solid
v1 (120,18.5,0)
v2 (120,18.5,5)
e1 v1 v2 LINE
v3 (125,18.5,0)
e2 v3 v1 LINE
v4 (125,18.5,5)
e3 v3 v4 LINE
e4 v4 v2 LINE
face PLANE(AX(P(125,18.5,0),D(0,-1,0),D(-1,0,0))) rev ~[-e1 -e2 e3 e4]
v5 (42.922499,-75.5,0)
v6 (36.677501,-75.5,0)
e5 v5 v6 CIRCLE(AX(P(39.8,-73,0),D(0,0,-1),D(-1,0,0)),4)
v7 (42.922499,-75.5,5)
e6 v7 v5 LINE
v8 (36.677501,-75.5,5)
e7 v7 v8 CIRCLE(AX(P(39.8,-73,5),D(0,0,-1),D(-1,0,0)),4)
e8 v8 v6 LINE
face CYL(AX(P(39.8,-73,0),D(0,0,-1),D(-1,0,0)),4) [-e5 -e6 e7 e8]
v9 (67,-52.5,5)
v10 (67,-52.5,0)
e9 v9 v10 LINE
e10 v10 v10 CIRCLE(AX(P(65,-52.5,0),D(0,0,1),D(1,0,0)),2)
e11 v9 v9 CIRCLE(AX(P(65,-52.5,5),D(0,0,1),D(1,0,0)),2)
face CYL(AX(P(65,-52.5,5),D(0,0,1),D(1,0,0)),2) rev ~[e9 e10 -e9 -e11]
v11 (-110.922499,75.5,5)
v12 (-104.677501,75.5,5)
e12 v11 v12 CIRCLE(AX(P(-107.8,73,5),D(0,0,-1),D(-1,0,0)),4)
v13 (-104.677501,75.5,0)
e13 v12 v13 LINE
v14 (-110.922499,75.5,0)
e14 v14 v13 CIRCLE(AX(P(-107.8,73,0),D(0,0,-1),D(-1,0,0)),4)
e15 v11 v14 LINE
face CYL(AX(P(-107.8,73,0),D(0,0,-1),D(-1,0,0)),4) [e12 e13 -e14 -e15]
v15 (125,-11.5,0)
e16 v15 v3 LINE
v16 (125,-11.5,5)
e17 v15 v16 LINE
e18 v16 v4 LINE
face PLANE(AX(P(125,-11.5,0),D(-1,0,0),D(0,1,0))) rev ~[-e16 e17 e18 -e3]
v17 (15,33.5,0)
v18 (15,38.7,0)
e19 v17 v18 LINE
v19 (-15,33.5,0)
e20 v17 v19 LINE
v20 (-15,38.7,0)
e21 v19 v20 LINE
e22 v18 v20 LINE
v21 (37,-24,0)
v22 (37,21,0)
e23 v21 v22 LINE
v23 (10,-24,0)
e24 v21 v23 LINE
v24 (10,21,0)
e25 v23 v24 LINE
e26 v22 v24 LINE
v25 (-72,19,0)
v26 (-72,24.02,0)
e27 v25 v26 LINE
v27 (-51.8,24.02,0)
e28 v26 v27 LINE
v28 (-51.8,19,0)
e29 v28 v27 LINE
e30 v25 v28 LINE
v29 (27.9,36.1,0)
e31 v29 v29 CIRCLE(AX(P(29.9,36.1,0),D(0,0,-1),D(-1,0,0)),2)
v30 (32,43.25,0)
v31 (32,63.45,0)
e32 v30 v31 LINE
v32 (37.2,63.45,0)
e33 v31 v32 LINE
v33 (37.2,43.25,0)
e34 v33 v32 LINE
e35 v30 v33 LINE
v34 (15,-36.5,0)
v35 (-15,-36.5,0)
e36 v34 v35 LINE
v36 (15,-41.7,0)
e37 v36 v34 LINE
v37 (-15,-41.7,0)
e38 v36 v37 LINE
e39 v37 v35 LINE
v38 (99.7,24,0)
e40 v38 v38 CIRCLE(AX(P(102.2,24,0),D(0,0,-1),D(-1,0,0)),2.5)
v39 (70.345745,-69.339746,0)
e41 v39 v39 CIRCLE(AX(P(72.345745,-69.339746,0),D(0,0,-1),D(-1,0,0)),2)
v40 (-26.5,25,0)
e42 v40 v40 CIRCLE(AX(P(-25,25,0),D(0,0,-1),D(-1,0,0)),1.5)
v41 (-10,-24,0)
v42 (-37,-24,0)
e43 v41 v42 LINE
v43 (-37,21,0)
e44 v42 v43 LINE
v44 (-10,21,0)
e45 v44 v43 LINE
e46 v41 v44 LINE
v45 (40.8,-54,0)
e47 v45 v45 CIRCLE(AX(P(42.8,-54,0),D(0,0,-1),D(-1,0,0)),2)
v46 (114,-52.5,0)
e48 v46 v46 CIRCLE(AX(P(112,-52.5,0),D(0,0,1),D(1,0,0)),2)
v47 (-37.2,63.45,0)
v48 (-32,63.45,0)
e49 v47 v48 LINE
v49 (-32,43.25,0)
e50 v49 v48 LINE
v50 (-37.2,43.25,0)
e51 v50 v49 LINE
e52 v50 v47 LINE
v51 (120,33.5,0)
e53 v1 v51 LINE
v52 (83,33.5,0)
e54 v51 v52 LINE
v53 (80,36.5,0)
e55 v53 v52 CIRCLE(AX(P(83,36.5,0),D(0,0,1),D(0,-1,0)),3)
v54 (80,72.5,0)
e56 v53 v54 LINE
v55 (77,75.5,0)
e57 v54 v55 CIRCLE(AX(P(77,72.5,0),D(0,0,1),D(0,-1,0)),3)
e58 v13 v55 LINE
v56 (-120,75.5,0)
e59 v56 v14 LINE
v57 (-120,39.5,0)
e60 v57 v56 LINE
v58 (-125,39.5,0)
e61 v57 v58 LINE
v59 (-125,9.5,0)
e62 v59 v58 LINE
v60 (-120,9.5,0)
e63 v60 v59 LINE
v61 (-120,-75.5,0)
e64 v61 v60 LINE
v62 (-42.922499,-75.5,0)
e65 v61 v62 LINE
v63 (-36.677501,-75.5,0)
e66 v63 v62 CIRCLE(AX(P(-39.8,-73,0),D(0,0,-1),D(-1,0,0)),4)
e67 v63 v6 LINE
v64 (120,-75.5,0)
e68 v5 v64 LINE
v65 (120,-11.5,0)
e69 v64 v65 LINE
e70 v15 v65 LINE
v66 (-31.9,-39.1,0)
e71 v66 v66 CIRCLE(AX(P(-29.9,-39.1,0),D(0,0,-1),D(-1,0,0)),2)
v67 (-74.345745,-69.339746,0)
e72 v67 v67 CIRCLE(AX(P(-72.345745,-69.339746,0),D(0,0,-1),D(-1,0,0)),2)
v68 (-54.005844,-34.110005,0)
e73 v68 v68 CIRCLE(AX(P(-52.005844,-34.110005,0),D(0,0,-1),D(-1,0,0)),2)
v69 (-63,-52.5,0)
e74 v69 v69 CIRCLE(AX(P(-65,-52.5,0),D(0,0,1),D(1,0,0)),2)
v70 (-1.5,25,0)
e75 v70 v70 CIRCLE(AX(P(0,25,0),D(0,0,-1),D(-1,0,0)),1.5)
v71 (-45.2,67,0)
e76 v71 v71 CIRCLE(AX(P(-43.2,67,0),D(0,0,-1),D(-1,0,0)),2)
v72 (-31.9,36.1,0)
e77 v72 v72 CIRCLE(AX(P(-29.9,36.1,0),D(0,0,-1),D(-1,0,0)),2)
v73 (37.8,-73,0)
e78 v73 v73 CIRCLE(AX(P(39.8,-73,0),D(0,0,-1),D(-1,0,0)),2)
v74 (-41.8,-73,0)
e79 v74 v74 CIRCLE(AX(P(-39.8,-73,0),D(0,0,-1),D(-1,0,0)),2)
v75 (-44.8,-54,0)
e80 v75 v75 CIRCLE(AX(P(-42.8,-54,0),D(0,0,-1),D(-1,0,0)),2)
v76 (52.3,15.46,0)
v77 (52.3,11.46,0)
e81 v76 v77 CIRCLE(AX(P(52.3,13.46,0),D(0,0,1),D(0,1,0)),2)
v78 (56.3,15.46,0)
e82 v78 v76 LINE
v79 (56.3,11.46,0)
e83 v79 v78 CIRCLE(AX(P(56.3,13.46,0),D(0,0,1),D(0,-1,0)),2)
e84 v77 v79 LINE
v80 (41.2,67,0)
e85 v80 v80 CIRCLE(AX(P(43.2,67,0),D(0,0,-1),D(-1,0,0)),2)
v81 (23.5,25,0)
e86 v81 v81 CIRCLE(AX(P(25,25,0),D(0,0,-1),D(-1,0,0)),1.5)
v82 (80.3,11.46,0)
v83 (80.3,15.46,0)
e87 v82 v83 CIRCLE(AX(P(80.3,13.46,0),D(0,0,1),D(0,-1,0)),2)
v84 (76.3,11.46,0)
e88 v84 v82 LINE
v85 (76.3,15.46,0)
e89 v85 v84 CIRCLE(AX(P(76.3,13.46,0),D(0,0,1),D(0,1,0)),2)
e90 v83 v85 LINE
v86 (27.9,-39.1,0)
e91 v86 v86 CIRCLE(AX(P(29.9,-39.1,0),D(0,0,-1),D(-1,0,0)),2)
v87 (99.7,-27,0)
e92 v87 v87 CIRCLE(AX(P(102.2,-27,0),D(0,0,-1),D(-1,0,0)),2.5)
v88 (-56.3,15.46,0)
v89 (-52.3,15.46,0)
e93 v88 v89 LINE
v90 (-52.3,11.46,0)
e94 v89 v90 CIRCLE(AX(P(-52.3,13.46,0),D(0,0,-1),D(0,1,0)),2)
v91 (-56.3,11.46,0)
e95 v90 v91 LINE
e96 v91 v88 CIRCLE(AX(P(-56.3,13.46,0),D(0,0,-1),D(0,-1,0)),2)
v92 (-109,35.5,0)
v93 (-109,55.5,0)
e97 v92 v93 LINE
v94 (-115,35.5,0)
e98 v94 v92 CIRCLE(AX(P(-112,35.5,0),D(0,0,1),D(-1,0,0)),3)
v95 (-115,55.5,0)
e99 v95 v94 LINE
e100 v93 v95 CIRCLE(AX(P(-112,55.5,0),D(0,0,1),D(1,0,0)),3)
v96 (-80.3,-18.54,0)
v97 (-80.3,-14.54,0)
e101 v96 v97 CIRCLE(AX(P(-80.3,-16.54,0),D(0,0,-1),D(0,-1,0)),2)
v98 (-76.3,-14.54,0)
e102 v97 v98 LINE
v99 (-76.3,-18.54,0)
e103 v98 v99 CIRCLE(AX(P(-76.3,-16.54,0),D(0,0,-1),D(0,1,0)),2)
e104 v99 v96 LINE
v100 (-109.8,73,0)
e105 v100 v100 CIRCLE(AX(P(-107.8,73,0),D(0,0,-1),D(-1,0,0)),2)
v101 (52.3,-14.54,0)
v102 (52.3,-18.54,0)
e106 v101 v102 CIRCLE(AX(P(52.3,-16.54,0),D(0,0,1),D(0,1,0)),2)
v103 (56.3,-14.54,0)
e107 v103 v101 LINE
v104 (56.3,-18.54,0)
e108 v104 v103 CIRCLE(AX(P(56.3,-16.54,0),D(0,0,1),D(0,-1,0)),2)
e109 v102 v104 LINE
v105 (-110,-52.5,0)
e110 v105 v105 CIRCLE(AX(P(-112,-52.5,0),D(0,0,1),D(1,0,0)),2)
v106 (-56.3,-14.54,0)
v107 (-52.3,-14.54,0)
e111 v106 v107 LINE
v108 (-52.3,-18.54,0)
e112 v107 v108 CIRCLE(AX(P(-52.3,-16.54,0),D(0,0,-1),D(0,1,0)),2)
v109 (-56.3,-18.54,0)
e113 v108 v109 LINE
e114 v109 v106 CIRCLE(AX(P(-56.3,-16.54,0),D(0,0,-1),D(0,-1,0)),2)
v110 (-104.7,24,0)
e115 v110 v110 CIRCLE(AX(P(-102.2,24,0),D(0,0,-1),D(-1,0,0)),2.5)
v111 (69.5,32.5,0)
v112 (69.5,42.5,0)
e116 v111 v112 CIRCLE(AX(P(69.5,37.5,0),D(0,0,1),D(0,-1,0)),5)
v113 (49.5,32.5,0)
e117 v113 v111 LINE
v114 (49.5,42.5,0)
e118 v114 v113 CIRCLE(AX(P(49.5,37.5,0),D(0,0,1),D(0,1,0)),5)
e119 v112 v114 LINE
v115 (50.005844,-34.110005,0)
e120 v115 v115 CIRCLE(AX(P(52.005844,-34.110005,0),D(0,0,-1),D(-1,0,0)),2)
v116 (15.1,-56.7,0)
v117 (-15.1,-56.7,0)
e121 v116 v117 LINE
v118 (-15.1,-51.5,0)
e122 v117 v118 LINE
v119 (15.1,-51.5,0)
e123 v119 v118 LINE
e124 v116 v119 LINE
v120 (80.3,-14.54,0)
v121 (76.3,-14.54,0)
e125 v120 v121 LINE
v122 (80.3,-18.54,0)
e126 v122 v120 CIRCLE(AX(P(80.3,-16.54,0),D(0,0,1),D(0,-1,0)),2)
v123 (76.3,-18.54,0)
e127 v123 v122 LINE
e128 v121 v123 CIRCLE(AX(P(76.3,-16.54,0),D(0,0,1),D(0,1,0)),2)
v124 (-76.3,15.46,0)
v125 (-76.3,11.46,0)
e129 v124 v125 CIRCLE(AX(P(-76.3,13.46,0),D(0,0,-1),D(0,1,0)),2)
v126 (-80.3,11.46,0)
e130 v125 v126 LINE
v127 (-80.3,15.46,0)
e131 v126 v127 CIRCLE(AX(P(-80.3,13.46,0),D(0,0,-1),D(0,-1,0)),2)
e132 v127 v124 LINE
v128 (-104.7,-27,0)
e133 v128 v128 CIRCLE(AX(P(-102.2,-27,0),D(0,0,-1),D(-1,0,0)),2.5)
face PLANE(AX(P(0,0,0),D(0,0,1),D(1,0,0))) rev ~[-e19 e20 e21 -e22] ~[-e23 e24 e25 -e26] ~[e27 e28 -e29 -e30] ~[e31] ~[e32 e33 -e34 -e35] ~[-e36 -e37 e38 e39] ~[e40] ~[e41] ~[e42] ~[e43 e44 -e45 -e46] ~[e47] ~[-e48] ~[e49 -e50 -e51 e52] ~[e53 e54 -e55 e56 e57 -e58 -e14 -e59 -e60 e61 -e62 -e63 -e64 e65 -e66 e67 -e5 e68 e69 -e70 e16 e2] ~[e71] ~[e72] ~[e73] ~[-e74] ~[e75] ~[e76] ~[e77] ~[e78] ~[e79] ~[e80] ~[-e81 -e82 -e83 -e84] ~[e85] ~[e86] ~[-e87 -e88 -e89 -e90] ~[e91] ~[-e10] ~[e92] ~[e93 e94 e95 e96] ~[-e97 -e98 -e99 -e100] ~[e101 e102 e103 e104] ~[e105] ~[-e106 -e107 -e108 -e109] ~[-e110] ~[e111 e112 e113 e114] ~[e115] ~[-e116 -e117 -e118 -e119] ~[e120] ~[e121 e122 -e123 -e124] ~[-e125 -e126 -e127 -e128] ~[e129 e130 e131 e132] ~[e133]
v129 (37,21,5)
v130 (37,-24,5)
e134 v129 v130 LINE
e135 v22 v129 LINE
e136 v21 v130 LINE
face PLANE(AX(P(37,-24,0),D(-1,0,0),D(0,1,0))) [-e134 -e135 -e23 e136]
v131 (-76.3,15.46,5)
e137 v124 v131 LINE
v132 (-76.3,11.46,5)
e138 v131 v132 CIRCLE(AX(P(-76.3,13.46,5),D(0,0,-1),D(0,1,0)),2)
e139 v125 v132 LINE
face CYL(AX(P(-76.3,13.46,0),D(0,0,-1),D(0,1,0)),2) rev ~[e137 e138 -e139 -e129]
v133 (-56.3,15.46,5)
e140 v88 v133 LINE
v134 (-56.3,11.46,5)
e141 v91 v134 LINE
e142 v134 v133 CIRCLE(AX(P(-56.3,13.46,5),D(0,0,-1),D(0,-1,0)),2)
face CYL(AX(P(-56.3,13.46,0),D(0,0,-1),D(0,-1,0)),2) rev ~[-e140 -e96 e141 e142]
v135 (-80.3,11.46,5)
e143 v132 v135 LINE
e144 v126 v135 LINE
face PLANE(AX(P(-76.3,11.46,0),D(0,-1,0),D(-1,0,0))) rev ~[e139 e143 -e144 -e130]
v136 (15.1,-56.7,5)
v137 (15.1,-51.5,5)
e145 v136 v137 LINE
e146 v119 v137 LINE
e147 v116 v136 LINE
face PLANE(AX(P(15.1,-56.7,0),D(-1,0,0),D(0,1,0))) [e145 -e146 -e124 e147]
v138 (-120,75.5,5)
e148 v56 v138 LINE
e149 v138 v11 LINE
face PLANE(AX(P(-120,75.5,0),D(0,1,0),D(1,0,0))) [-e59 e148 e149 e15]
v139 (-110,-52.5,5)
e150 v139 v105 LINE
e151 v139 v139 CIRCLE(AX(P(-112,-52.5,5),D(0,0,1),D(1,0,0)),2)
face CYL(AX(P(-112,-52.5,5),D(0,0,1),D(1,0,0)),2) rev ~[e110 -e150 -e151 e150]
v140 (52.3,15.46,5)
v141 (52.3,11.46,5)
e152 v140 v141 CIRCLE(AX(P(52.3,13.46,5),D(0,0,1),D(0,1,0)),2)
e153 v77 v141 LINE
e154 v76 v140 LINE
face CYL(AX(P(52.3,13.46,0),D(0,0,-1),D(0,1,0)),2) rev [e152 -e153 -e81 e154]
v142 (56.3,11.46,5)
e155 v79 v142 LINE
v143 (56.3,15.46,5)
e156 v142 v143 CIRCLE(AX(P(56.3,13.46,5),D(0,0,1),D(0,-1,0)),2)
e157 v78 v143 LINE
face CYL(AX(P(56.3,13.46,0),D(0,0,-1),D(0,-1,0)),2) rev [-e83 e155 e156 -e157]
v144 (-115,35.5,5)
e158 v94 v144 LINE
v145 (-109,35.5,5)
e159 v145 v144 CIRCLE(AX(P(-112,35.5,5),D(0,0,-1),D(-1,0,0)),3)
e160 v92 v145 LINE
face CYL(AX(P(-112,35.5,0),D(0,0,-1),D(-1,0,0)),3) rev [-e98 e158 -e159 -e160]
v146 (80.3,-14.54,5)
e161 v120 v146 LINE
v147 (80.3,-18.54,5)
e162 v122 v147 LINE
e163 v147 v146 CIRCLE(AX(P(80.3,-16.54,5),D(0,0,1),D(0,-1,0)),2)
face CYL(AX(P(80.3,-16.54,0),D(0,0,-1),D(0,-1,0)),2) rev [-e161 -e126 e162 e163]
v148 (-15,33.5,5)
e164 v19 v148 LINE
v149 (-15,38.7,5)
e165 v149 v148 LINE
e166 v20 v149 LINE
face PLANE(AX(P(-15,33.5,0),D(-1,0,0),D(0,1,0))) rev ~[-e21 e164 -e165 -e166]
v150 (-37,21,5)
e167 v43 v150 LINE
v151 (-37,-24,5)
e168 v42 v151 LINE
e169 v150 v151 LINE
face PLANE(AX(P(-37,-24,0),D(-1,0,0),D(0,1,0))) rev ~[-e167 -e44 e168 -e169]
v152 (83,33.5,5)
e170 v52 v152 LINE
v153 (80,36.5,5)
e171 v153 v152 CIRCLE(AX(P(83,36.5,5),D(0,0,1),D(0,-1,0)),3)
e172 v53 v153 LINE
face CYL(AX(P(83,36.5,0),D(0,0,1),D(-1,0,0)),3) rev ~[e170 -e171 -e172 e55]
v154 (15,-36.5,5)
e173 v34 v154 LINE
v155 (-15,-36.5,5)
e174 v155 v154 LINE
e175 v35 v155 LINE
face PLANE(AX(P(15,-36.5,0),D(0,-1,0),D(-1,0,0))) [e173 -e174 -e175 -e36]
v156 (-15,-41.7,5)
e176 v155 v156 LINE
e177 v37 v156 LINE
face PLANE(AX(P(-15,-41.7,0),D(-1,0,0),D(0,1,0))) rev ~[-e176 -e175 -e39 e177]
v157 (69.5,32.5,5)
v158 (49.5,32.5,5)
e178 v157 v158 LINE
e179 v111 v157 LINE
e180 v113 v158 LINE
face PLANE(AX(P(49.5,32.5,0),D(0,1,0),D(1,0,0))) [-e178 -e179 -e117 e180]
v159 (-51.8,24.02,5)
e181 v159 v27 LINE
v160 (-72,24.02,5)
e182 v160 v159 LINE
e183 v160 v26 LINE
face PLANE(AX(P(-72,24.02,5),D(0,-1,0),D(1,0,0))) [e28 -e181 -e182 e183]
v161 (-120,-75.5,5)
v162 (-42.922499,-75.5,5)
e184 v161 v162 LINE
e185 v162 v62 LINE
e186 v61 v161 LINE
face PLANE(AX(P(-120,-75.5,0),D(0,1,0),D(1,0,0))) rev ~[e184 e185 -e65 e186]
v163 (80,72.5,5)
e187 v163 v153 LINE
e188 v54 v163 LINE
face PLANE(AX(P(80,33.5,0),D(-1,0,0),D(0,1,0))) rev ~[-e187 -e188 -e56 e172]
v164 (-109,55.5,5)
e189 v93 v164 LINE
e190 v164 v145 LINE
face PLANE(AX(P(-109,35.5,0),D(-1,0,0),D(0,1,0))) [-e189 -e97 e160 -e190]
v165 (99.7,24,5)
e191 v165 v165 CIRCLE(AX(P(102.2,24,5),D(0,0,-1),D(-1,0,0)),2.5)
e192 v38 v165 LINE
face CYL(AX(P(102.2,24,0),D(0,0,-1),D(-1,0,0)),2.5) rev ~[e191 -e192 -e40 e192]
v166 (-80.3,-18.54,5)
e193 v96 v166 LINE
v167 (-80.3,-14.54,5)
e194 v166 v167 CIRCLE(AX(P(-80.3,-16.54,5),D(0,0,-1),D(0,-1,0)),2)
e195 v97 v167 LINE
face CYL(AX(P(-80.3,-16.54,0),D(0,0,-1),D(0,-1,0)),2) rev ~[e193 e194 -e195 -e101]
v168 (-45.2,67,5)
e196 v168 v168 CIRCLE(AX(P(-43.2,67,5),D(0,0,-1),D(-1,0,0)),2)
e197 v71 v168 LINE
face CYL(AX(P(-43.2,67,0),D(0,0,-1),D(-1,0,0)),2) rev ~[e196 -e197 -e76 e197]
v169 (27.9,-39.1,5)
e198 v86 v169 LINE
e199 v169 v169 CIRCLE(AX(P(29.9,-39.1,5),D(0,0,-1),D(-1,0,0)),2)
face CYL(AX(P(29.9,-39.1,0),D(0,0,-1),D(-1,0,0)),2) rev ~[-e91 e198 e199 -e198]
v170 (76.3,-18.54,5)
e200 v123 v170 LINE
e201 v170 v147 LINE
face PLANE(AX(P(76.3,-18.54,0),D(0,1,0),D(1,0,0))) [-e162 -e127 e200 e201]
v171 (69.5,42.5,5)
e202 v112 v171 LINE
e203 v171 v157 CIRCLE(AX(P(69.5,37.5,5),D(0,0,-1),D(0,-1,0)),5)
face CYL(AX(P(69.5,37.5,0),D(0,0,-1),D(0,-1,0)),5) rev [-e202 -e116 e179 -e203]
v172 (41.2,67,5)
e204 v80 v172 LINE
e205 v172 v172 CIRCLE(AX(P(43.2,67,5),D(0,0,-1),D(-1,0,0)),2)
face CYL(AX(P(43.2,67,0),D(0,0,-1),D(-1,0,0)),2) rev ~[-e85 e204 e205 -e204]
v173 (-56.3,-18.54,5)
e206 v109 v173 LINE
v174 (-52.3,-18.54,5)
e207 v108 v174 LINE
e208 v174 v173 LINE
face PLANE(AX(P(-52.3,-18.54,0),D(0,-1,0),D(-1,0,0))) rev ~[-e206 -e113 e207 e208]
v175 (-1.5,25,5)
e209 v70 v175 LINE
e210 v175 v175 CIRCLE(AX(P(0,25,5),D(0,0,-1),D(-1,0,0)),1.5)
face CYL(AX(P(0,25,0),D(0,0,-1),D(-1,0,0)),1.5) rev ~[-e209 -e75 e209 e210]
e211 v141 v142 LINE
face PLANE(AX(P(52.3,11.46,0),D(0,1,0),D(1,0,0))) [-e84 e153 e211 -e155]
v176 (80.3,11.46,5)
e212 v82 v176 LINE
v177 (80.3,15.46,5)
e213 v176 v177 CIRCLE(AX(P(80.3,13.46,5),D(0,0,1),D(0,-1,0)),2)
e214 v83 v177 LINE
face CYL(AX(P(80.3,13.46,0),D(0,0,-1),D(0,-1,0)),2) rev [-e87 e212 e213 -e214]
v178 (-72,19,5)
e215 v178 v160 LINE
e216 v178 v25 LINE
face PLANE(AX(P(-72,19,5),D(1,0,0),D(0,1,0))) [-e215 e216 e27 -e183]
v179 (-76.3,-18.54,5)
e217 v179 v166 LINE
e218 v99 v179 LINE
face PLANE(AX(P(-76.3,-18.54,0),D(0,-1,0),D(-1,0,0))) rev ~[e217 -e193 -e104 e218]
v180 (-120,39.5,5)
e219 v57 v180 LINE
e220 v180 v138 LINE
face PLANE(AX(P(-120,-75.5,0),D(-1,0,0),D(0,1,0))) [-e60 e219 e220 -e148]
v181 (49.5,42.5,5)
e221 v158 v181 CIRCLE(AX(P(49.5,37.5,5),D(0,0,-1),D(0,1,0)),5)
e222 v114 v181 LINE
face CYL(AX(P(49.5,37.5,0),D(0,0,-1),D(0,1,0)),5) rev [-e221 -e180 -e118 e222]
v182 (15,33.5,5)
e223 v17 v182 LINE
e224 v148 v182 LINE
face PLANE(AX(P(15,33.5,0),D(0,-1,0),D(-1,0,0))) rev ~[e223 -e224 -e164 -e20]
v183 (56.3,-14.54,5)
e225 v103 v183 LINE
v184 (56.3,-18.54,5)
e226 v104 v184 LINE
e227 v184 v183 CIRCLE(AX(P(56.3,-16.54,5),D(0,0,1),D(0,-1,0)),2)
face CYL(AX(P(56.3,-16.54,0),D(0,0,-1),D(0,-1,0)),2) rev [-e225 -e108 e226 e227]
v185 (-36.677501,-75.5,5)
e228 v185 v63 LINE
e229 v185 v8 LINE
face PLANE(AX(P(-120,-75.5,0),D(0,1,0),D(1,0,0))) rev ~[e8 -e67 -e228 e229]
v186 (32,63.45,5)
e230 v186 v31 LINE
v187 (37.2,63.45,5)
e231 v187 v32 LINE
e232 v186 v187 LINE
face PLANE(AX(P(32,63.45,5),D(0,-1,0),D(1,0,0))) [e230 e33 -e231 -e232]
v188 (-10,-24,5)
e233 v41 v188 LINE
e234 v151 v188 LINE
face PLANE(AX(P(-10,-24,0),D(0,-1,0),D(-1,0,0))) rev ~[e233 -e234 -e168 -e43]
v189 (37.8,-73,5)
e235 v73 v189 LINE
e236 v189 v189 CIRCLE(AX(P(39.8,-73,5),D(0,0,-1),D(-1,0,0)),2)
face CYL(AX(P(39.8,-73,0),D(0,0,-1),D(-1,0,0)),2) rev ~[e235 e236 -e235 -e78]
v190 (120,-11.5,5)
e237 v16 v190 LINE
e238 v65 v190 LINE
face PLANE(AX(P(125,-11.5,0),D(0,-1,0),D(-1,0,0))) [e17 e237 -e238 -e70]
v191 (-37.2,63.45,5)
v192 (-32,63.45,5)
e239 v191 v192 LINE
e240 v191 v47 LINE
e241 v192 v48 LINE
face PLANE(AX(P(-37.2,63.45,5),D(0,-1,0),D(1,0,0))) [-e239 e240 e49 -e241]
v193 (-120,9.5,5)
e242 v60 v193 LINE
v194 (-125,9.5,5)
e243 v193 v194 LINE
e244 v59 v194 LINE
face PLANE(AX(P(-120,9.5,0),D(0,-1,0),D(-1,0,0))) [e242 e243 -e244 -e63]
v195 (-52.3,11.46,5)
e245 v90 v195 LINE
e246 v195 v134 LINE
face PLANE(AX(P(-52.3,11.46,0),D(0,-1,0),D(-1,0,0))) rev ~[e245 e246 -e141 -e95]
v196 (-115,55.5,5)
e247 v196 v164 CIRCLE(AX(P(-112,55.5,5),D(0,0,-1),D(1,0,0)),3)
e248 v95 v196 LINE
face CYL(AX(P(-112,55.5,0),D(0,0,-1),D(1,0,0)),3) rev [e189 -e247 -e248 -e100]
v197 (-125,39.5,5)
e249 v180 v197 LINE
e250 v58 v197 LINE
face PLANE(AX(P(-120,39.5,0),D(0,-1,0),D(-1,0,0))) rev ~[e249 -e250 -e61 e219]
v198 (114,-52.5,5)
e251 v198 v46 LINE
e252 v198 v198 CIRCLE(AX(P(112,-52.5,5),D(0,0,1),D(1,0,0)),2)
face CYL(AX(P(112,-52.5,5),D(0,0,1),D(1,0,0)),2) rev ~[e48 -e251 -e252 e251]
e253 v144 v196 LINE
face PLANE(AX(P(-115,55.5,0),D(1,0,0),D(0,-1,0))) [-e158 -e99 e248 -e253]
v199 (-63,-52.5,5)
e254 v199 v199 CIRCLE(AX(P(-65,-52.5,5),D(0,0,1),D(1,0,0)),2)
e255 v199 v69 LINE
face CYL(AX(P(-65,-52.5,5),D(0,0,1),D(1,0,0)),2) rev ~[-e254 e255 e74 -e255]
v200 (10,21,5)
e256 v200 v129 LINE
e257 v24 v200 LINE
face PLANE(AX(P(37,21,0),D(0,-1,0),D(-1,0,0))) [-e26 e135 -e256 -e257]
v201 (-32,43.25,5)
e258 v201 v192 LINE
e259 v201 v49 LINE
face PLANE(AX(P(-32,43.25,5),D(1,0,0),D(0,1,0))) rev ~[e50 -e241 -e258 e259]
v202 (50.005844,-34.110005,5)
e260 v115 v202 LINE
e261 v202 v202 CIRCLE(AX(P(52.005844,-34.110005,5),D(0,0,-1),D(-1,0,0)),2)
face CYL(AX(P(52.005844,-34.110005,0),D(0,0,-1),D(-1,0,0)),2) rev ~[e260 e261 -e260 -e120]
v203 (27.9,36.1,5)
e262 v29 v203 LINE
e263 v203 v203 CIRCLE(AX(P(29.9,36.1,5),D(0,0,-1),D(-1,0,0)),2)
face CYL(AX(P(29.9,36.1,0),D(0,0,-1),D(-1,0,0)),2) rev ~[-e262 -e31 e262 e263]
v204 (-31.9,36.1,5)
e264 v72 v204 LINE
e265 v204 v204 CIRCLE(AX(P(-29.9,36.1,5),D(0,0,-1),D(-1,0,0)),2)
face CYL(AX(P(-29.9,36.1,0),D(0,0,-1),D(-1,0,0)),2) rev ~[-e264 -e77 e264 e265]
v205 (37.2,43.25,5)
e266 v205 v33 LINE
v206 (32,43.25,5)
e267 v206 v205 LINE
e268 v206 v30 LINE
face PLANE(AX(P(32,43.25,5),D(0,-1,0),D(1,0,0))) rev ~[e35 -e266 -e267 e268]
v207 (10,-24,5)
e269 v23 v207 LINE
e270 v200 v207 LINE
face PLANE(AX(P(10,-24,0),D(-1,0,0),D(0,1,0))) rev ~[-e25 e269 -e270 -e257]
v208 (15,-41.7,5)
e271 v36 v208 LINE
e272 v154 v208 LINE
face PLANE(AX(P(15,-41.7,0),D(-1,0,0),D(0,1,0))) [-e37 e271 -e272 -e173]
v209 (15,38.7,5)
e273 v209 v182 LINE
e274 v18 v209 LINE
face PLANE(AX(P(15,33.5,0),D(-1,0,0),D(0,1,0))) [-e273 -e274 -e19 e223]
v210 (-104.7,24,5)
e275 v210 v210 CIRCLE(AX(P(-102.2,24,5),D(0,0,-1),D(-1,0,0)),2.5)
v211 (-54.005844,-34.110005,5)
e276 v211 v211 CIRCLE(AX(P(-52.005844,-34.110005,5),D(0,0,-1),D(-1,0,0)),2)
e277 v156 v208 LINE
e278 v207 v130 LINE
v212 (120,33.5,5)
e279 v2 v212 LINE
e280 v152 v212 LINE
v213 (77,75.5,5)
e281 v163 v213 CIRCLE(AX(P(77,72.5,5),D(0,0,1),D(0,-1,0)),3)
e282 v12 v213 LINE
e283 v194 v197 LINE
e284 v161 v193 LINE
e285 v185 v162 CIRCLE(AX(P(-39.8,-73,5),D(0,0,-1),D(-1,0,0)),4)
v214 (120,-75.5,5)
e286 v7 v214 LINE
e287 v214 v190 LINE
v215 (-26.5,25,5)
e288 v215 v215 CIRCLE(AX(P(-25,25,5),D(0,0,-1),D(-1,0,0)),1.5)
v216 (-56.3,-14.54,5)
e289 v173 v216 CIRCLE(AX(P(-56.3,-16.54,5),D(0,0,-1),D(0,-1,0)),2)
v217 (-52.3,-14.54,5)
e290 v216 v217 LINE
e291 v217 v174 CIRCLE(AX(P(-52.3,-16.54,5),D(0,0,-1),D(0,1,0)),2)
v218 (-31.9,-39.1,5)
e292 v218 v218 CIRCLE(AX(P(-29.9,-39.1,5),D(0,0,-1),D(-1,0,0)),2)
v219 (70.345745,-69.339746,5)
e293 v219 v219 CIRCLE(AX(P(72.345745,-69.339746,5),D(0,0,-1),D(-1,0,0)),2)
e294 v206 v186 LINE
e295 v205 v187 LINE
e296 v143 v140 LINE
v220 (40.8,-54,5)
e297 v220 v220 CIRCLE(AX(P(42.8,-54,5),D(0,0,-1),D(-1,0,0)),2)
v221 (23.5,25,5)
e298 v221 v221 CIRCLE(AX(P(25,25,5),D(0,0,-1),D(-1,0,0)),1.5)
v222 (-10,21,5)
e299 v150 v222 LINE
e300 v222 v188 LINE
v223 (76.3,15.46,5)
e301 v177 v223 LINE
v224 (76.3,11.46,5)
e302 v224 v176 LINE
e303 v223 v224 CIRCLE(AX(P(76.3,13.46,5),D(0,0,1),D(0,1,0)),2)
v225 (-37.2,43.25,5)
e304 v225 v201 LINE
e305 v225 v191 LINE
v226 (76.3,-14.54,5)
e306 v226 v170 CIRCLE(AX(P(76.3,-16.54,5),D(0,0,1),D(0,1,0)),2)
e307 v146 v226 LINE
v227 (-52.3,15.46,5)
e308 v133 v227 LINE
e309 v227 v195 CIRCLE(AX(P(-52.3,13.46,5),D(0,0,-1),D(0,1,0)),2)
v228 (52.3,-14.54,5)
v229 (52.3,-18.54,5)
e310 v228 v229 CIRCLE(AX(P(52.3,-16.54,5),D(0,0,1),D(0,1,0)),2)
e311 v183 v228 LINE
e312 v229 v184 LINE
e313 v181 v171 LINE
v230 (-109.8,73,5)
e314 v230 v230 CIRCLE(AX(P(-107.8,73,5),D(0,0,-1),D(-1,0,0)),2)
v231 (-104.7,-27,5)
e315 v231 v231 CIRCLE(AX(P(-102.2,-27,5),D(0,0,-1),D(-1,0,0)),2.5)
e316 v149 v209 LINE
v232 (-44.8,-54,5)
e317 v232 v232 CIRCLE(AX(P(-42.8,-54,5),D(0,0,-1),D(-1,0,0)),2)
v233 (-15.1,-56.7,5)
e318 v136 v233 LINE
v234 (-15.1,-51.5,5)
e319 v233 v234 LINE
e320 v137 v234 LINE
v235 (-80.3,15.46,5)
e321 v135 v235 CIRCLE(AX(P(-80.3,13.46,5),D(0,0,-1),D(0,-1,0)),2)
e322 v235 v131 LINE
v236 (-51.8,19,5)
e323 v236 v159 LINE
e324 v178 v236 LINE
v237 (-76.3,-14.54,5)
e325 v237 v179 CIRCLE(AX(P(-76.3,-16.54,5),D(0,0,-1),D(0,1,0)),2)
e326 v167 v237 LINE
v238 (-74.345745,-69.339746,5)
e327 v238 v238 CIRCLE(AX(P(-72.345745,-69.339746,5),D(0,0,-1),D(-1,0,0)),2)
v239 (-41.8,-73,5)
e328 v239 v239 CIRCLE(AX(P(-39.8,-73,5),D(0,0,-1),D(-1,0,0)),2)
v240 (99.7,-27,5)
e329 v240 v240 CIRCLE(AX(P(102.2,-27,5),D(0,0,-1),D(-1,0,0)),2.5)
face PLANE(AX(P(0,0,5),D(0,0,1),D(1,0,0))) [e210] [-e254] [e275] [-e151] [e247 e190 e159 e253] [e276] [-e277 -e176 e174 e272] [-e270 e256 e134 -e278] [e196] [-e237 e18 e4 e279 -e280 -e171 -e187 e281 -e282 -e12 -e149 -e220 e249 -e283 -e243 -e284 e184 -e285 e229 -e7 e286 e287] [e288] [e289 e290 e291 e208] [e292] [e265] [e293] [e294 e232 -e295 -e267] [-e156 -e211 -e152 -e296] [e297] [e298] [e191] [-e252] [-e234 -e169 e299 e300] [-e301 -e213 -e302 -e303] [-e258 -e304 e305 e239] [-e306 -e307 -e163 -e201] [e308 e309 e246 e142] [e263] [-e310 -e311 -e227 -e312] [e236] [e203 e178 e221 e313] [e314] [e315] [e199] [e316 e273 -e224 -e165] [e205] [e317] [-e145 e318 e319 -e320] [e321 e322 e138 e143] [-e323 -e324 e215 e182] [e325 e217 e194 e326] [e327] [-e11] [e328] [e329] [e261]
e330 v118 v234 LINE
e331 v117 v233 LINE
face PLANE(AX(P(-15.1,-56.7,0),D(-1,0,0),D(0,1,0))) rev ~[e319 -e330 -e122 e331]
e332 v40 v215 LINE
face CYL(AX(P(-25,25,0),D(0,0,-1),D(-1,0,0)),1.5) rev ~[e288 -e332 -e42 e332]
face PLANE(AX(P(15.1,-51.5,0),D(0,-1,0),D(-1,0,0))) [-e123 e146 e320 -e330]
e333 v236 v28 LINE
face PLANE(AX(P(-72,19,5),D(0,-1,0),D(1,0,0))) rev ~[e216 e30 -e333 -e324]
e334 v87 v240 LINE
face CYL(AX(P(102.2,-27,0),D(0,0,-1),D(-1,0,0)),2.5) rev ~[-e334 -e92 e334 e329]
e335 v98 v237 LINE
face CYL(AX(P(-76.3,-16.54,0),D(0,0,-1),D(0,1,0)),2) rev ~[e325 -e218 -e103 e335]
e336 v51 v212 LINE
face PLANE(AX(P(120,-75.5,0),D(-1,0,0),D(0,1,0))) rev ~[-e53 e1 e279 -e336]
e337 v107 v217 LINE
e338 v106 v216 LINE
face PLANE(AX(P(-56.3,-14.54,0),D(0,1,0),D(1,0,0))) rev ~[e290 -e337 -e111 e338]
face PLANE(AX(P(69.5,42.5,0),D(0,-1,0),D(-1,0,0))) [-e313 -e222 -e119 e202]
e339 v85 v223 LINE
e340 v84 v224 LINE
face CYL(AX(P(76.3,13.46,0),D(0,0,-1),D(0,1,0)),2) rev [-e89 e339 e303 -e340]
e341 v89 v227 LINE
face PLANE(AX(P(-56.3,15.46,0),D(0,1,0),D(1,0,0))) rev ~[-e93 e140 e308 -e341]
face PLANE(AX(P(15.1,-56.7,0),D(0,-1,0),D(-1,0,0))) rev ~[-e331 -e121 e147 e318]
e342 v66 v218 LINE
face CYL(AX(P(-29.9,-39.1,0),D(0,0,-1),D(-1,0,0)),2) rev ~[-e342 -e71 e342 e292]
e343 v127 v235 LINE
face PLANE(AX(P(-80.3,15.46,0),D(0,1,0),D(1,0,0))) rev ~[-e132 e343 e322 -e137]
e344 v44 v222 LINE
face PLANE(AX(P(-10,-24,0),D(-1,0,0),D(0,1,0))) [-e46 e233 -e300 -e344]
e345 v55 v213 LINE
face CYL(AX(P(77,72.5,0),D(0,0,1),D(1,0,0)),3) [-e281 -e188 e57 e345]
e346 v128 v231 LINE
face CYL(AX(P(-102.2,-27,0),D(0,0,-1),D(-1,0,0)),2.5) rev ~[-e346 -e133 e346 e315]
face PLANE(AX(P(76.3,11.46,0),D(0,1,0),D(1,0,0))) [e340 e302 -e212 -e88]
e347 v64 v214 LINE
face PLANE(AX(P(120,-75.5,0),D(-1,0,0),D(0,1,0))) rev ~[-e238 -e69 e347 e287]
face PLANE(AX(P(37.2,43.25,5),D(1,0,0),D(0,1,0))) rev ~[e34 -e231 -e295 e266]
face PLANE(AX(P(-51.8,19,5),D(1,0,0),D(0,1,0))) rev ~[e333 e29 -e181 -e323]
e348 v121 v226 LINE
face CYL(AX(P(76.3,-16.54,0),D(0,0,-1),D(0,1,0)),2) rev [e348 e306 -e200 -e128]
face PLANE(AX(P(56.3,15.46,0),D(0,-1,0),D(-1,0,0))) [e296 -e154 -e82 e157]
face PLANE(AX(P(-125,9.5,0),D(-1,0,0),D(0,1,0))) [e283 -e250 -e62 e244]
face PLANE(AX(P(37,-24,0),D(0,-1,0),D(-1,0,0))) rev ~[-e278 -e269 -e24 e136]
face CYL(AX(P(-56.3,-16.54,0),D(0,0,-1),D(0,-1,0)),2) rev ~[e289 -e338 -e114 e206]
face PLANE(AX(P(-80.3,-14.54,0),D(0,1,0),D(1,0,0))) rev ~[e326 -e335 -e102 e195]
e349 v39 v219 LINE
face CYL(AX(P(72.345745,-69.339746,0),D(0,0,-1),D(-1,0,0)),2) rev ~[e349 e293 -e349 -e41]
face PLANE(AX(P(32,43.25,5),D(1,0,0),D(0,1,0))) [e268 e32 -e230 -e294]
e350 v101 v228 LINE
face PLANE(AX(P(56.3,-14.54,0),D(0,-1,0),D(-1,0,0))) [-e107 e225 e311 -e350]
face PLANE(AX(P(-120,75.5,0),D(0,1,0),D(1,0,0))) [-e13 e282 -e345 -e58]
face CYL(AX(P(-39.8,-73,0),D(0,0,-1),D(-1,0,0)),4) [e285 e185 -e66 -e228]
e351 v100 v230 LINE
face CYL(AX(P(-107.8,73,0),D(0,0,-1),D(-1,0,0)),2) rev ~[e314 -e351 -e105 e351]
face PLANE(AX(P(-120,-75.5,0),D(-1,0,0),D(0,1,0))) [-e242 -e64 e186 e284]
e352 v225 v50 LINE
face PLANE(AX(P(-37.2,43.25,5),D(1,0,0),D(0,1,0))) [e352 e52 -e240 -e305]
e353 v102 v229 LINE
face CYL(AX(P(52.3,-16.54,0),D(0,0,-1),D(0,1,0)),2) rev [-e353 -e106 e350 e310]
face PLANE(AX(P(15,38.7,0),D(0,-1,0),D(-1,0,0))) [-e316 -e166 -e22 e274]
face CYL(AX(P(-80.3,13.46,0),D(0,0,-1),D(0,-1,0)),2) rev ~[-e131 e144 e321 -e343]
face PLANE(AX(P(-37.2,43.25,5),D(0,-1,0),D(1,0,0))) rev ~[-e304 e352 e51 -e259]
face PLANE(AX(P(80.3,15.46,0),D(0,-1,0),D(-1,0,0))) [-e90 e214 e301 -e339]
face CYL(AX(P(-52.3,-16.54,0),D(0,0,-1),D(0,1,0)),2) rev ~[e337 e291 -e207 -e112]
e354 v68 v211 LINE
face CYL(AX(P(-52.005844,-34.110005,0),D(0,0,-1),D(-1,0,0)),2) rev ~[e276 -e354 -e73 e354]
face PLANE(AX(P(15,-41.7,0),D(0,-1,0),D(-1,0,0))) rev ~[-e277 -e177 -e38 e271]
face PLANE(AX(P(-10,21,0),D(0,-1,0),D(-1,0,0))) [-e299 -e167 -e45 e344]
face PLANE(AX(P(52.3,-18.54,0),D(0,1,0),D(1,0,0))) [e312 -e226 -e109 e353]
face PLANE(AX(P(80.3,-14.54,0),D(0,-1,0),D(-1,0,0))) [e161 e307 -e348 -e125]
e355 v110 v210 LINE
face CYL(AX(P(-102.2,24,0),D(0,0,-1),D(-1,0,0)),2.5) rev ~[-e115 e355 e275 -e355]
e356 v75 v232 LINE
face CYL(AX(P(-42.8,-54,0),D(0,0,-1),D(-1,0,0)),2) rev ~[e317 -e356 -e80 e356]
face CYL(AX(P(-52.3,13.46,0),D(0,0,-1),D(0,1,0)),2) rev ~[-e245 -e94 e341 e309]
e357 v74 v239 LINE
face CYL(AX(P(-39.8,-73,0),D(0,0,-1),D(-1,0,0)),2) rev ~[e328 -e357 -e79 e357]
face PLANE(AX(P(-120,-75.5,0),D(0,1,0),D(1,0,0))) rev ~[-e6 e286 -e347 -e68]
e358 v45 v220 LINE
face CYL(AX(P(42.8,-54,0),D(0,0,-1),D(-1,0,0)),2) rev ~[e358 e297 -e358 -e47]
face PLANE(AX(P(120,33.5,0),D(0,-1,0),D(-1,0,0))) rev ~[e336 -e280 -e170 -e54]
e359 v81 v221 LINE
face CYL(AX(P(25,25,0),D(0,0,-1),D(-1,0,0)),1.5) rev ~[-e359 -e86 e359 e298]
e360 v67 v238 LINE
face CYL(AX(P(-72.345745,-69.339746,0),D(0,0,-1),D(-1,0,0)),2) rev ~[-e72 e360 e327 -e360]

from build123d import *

# Parameters (mm, degrees)
SKETCH1_W           = 240
SKETCH1_H           = 151
BOSS_EXTRUDE1_DEPTH = 5
SKETCH2_W           = 27
SKETCH2_H           = 45
CUT_EXTRUDE1_DEPTH  = 10
CUT_EXTRUDE10_DEPTH = 5
SKETCH15_R          = 2.5
CUT_EXTRUDE11_DEPTH = 10
SKETCH17_R          = 2
SKETCH17_W          = 30
SKETCH17_H          = 5.2
CUT_EXTRUDE13_DEPTH = 10
SKETCH20_R          = 2
CUT_EXTRUDE15_DEPTH = 5
SKETCH23_R          = 2
CUT_EXTRUDE16_DEPTH = 5
SKETCH24_W          = 30.2
SKETCH24_H          = 5.2
CUT_EXTRUDE17_DEPTH = 5
SKETCH27_R          = 1.5
CUT_EXTRUDE20_DEPTH = 10
SKETCH28_R          = 2
CUT_EXTRUDE21_DEPTH = 10
SKETCH31_R          = 2
CUT_EXTRUDE24_DEPTH = 10
SKETCH32_R          = 2
CUT_EXTRUDE25_DEPTH = 10
SKETCH34_W          = 40
SKETCH34_H          = 42
CUT_EXTRUDE26_DEPTH = 10
CUT_EXTRUDE27_DEPTH = 10
CUT_EXTRUDE28_DEPTH = 10
SKETCH37_W          = 5.2
SKETCH37_H          = 20.2
CUT_EXTRUDE29_DEPTH = 10
SKETCH38_W          = 20.2
SKETCH38_H          = 5.02
CUT_EXTRUDE30_DEPTH = 5
SKETCH39_R          = 2
CUT_EXTRUDE31_DEPTH = 5
SKETCH40_R          = 4
SKETCH40_R_2        = 2
BOSS_EXTRUDE6_DEPTH = 5
FILLET1_R           = 3
SKETCH41_R          = 2
CUT_EXTRUDE32_DEPTH = 5
SKETCH42_R          = 4
SKETCH42_R_2        = 2
BOSS_EXTRUDE7_DEPTH = 5
SKETCH43_W          = 5
SKETCH43_H          = 30
BOSS_EXTRUDE8_DEPTH = 5
FILLET2_R           = 3


with BuildPart() as part:
    # Sketch1 → Boss-Extrude1 (new body)
    with BuildSketch(Plane.XY):
        Rectangle(SKETCH1_W, SKETCH1_H)
    extrude(amount=BOSS_EXTRUDE1_DEPTH)

    # Sketch2 → Cut-Extrude1 (cut)
    with BuildSketch(Plane(origin=(0, 0, 0), x_dir=(-1, 0, 0), z_dir=(0, 0, -1))):
        with Locations((23.5, -1.5)):
            Rectangle(SKETCH2_W, SKETCH2_H)
        with Locations((-23.5, -1.5)):
            Rectangle(SKETCH2_W, SKETCH2_H)
    extrude(amount=-CUT_EXTRUDE1_DEPTH, mode=Mode.SUBTRACT)

    # Sketch14 → Cut-Extrude10 (cut)
    with BuildSketch(Plane(origin=(0, 0, 0), x_dir=(-1, 0, 0), z_dir=(0, 0, -1))):
        with BuildLine():
            Line((-56.3, 15.46), (-52.3, 15.46))
            ThreePointArc((-52.3, 15.46), (-50.3, 13.46), (-52.3, 11.46))
            Line((-52.3, 11.46), (-56.3, 11.46))
            ThreePointArc((-56.3, 11.46), (-58.3, 13.46), (-56.3, 15.46))
        make_face()
        with BuildLine():
            Line((-80.3, 15.46), (-76.3, 15.46))
            ThreePointArc((-76.3, 15.46), (-74.3, 13.46), (-76.3, 11.46))
            Line((-76.3, 11.46), (-80.3, 11.46))
            ThreePointArc((-80.3, 11.46), (-82.3, 13.46), (-80.3, 15.46))
        make_face()
        with BuildLine():
            Line((-80.3, -14.54), (-76.3, -14.54))
            ThreePointArc((-76.3, -14.54), (-74.3, -16.54), (-76.3, -18.54))
            Line((-76.3, -18.54), (-80.3, -18.54))
            ThreePointArc((-80.3, -18.54), (-82.3, -16.54), (-80.3, -14.54))
        make_face()
        with BuildLine():
            Line((-56.3, -14.54), (-52.3, -14.54))
            ThreePointArc((-52.3, -14.54), (-50.3, -16.54), (-52.3, -18.54))
            Line((-52.3, -18.54), (-56.3, -18.54))
            ThreePointArc((-56.3, -18.54), (-58.3, -16.54), (-56.3, -14.54))
        make_face()
        with BuildLine():
            Line((56.3, -14.54), (52.3, -14.54))
            ThreePointArc((52.3, -14.54), (50.3, -16.54), (52.3, -18.54))
            Line((52.3, -18.54), (56.3, -18.54))
            ThreePointArc((56.3, -18.54), (58.3, -16.54), (56.3, -14.54))
        make_face()
        with BuildLine():
            Line((80.3, -14.54), (76.3, -14.54))
            ThreePointArc((76.3, -14.54), (74.3, -16.54), (76.3, -18.54))
            Line((76.3, -18.54), (80.3, -18.54))
            ThreePointArc((80.3, -18.54), (82.3, -16.54), (80.3, -14.54))
        make_face()
        with BuildLine():
            Line((80.3, 15.46), (76.3, 15.46))
            ThreePointArc((76.3, 15.46), (74.3, 13.46), (76.3, 11.46))
            Line((76.3, 11.46), (80.3, 11.46))
            ThreePointArc((80.3, 11.46), (82.3, 13.46), (80.3, 15.46))
        make_face()
        with BuildLine():
            Line((56.3, 15.46), (52.3, 15.46))
            ThreePointArc((52.3, 15.46), (50.3, 13.46), (52.3, 11.46))
            Line((52.3, 11.46), (56.3, 11.46))
            ThreePointArc((56.3, 11.46), (58.3, 13.46), (56.3, 15.46))
        make_face()
    extrude(amount=-CUT_EXTRUDE10_DEPTH, mode=Mode.SUBTRACT)

    # Sketch15 → Cut-Extrude11 (cut)
    with BuildSketch(Plane(origin=(0, 0, 0), x_dir=(-1, 0, 0), z_dir=(0, 0, -1))):
        with Locations((-102.2, -27)):
            Circle(SKETCH15_R)
        with Locations((-102.2, 24)):
            Circle(SKETCH15_R)
        with Locations((102.2, 24)):
            Circle(SKETCH15_R)
        with Locations((102.2, -27)):
            Circle(SKETCH15_R)
    extrude(amount=-CUT_EXTRUDE11_DEPTH, mode=Mode.SUBTRACT)

    # Sketch17 → Cut-Extrude13 (cut)
    with BuildSketch(Plane(origin=(0, 0, 0), x_dir=(-1, 0, 0), z_dir=(0, 0, -1))):
        with Locations((-29.9, -39.1)):
            Circle(SKETCH17_R)
        with Locations((29.9, -39.1)):
            Circle(SKETCH17_R)
        with Locations((-29.9, 36.1)):
            Circle(SKETCH17_R)
        with Locations((29.9, 36.1)):
            Circle(SKETCH17_R)
        with Locations((0, 36.1)):
            Rectangle(SKETCH17_W, SKETCH17_H)
        with Locations((0, -39.1)):
            Rectangle(SKETCH17_W, SKETCH17_H)
    extrude(amount=-CUT_EXTRUDE13_DEPTH, mode=Mode.SUBTRACT)

    # Sketch20 → Cut-Extrude15 (cut)
    with BuildSketch(Plane(origin=(0, 0, 0), x_dir=(-1, 0, 0), z_dir=(0, 0, -1))):
        with Locations((43.2, 67)):
            Circle(SKETCH20_R)
        with Locations((-43.2, 67)):
            Circle(SKETCH20_R)
    extrude(amount=-CUT_EXTRUDE15_DEPTH, mode=Mode.SUBTRACT)

    # Sketch23 → Cut-Extrude16 (cut)
    with BuildSketch(Plane(origin=(0, 0, 0), x_dir=(-1, 0, 0), z_dir=(0, 0, -1))):
        with Locations((42.8, -54)):
            Circle(SKETCH23_R)
        with Locations((-42.8, -54)):
            Circle(SKETCH23_R)
    extrude(amount=-CUT_EXTRUDE16_DEPTH, mode=Mode.SUBTRACT)

    # Sketch24 → Cut-Extrude17 (cut)
    with BuildSketch(Plane(origin=(0, 0, 0), x_dir=(-1, 0, 0), z_dir=(0, 0, -1))):
        with Locations((0, -54.1)):
            Rectangle(SKETCH24_W, SKETCH24_H)
    extrude(amount=-CUT_EXTRUDE17_DEPTH, mode=Mode.SUBTRACT)

    # Sketch27 → Cut-Extrude20 (cut)
    with BuildSketch(Plane(origin=(0, 0, 0), x_dir=(-1, 0, 0), z_dir=(0, 0, -1))):
        with Locations((-25, 25)):
            Circle(SKETCH27_R)
        with Locations((0, 25)):
            Circle(SKETCH27_R)
        with Locations((25, 25)):
            Circle(SKETCH27_R)
    extrude(amount=-CUT_EXTRUDE20_DEPTH, mode=Mode.SUBTRACT)

    # Sketch28 → Cut-Extrude21 (cut)
    with BuildSketch(Plane.XY.offset(5)):
        with Locations((112, -52.5)):
            Circle(SKETCH28_R)
        with Locations((65, -52.5)):
            Circle(SKETCH28_R)
        with Locations((-65, -52.5)):
            Circle(SKETCH28_R)
        with Locations((-112, -52.5)):
            Circle(SKETCH28_R)
    extrude(amount=-CUT_EXTRUDE21_DEPTH, mode=Mode.SUBTRACT)

    # Sketch31 → Cut-Extrude24 (cut)
    with BuildSketch(Plane(origin=(0, 0, 0), x_dir=(-1, 0, 0), z_dir=(0, 0, -1))):
        with Locations((72.345744872, -69.339745962)):
            Circle(SKETCH31_R)
        with Locations((-72.345744872, -69.339745962)):
            Circle(SKETCH31_R)
    extrude(amount=-CUT_EXTRUDE24_DEPTH, mode=Mode.SUBTRACT)

    # Sketch32 → Cut-Extrude25 (cut)
    with BuildSketch(Plane(origin=(0, 0, 0), x_dir=(-1, 0, 0), z_dir=(0, 0, -1))):
        with Locations((52.005844325, -34.1100048)):
            Circle(SKETCH32_R)
        with Locations((-52.005844325, -34.1100048)):
            Circle(SKETCH32_R)
    extrude(amount=-CUT_EXTRUDE25_DEPTH, mode=Mode.SUBTRACT)

    # Sketch34 → Cut-Extrude26 (cut)
    with BuildSketch(Plane(origin=(0, 0, 0), x_dir=(-1, 0, 0), z_dir=(0, 0, -1))):
        with Locations((-100, 54.5)):
            Rectangle(SKETCH34_W, SKETCH34_H)
    extrude(amount=-CUT_EXTRUDE26_DEPTH, mode=Mode.SUBTRACT)

    # Sketch35 → Cut-Extrude27 (cut)
    with BuildSketch(Plane(origin=(0, 0, 0), x_dir=(-1, 0, 0), z_dir=(0, 0, -1))):
        with BuildLine():
            Line((-49.5, 32.5), (-69.5, 32.5))
            ThreePointArc((-69.5, 32.5), (-74.5, 37.5), (-69.5, 42.5))
            Line((-69.5, 42.5), (-49.5, 42.5))
            ThreePointArc((-49.5, 42.5), (-44.5, 37.5), (-49.5, 32.5))
        make_face()
    extrude(amount=-CUT_EXTRUDE27_DEPTH, mode=Mode.SUBTRACT)

    # Sketch36 → Cut-Extrude28 (cut)
    with BuildSketch(Plane(origin=(0, 0, 0), x_dir=(-1, 0, 0), z_dir=(0, 0, -1))):
        with BuildLine():
            Line((109, 35.5), (109, 55.5))
            ThreePointArc((109, 55.5), (112, 58.5), (115, 55.5))
            Line((115, 55.5), (115, 35.5))
            ThreePointArc((115, 35.5), (112, 32.5), (109, 35.5))
        make_face()
    extrude(amount=-CUT_EXTRUDE28_DEPTH, mode=Mode.SUBTRACT)

    # Sketch37 → Cut-Extrude29 (cut)
    with BuildSketch(Plane.XY.offset(5)):
        with Locations((34.6, 53.35)):
            Rectangle(SKETCH37_W, SKETCH37_H)
        with Locations((-34.6, 53.35)):
            Rectangle(SKETCH37_W, SKETCH37_H)
    extrude(amount=-CUT_EXTRUDE29_DEPTH, mode=Mode.SUBTRACT)

    # Sketch38 → Cut-Extrude30 (cut)
    with BuildSketch(Plane.XY.offset(5)):
        with Locations((-61.9, 21.51)):
            Rectangle(SKETCH38_W, SKETCH38_H)
    extrude(amount=-CUT_EXTRUDE30_DEPTH, mode=Mode.SUBTRACT)

    # Sketch39 → Cut-Extrude31 (cut)
    with BuildSketch(Plane(origin=(0, 0, 0), x_dir=(-1, 0, 0), z_dir=(0, 0, -1))):
        with Locations((107.8, 73)):
            Circle(SKETCH39_R)
    extrude(amount=-CUT_EXTRUDE31_DEPTH, mode=Mode.SUBTRACT)

    # Sketch40 → Boss-Extrude6 (add)
    with BuildSketch(Plane(origin=(0, 0, 0), x_dir=(-1, 0, 0), z_dir=(0, 0, -1))):
        with Locations((107.8, 73)):
            Circle(SKETCH40_R)
        with Locations((107.8, 73)):
            Circle(SKETCH40_R_2, mode=Mode.SUBTRACT)
    extrude(amount=-BOSS_EXTRUDE6_DEPTH)

    # Fillet1
    fillet1_edges = [part.edges().sort_by_distance(p)[0] for p in [
        (80, 33.5, 2.5),
    ]]
    fillet(fillet1_edges, radius=FILLET1_R)

    # Sketch41 → Cut-Extrude32 (cut)
    with BuildSketch(Plane(origin=(0, 0, 0), x_dir=(-1, 0, 0), z_dir=(0, 0, -1))):
        with Locations((39.8, -73)):
            Circle(SKETCH41_R)
        with Locations((-39.8, -73)):
            Circle(SKETCH41_R)
    extrude(amount=-CUT_EXTRUDE32_DEPTH, mode=Mode.SUBTRACT)

    # Sketch42 → Boss-Extrude7 (add)
    with BuildSketch(Plane(origin=(0, 0, 0), x_dir=(-1, 0, 0), z_dir=(0, 0, -1))):
        with Locations((-39.8, -73)):
            Circle(SKETCH42_R)
        with Locations((-39.8, -73)):
            Circle(SKETCH42_R_2, mode=Mode.SUBTRACT)
        with Locations((39.8, -73)):
            Circle(SKETCH42_R)
        with Locations((39.8, -73)):
            Circle(SKETCH42_R_2, mode=Mode.SUBTRACT)
    extrude(amount=-BOSS_EXTRUDE7_DEPTH)

    # Sketch43 → Boss-Extrude8 (add)
    with BuildSketch(Plane(origin=(0, 0, 0), x_dir=(-1, 0, 0), z_dir=(0, 0, -1))):
        with Locations((-122.5, 3.5)):
            Rectangle(SKETCH43_W, SKETCH43_H)
        with Locations((122.5, 24.5)):
            Rectangle(SKETCH43_W, SKETCH43_H)
    extrude(amount=-BOSS_EXTRUDE8_DEPTH)

    # Fillet2
    fillet2_edges = [part.edges().sort_by_distance(p)[0] for p in [
        (80, 75.5, 2.5),
    ]]
    fillet(fillet2_edges, radius=FILLET2_R)


solid = part.part
